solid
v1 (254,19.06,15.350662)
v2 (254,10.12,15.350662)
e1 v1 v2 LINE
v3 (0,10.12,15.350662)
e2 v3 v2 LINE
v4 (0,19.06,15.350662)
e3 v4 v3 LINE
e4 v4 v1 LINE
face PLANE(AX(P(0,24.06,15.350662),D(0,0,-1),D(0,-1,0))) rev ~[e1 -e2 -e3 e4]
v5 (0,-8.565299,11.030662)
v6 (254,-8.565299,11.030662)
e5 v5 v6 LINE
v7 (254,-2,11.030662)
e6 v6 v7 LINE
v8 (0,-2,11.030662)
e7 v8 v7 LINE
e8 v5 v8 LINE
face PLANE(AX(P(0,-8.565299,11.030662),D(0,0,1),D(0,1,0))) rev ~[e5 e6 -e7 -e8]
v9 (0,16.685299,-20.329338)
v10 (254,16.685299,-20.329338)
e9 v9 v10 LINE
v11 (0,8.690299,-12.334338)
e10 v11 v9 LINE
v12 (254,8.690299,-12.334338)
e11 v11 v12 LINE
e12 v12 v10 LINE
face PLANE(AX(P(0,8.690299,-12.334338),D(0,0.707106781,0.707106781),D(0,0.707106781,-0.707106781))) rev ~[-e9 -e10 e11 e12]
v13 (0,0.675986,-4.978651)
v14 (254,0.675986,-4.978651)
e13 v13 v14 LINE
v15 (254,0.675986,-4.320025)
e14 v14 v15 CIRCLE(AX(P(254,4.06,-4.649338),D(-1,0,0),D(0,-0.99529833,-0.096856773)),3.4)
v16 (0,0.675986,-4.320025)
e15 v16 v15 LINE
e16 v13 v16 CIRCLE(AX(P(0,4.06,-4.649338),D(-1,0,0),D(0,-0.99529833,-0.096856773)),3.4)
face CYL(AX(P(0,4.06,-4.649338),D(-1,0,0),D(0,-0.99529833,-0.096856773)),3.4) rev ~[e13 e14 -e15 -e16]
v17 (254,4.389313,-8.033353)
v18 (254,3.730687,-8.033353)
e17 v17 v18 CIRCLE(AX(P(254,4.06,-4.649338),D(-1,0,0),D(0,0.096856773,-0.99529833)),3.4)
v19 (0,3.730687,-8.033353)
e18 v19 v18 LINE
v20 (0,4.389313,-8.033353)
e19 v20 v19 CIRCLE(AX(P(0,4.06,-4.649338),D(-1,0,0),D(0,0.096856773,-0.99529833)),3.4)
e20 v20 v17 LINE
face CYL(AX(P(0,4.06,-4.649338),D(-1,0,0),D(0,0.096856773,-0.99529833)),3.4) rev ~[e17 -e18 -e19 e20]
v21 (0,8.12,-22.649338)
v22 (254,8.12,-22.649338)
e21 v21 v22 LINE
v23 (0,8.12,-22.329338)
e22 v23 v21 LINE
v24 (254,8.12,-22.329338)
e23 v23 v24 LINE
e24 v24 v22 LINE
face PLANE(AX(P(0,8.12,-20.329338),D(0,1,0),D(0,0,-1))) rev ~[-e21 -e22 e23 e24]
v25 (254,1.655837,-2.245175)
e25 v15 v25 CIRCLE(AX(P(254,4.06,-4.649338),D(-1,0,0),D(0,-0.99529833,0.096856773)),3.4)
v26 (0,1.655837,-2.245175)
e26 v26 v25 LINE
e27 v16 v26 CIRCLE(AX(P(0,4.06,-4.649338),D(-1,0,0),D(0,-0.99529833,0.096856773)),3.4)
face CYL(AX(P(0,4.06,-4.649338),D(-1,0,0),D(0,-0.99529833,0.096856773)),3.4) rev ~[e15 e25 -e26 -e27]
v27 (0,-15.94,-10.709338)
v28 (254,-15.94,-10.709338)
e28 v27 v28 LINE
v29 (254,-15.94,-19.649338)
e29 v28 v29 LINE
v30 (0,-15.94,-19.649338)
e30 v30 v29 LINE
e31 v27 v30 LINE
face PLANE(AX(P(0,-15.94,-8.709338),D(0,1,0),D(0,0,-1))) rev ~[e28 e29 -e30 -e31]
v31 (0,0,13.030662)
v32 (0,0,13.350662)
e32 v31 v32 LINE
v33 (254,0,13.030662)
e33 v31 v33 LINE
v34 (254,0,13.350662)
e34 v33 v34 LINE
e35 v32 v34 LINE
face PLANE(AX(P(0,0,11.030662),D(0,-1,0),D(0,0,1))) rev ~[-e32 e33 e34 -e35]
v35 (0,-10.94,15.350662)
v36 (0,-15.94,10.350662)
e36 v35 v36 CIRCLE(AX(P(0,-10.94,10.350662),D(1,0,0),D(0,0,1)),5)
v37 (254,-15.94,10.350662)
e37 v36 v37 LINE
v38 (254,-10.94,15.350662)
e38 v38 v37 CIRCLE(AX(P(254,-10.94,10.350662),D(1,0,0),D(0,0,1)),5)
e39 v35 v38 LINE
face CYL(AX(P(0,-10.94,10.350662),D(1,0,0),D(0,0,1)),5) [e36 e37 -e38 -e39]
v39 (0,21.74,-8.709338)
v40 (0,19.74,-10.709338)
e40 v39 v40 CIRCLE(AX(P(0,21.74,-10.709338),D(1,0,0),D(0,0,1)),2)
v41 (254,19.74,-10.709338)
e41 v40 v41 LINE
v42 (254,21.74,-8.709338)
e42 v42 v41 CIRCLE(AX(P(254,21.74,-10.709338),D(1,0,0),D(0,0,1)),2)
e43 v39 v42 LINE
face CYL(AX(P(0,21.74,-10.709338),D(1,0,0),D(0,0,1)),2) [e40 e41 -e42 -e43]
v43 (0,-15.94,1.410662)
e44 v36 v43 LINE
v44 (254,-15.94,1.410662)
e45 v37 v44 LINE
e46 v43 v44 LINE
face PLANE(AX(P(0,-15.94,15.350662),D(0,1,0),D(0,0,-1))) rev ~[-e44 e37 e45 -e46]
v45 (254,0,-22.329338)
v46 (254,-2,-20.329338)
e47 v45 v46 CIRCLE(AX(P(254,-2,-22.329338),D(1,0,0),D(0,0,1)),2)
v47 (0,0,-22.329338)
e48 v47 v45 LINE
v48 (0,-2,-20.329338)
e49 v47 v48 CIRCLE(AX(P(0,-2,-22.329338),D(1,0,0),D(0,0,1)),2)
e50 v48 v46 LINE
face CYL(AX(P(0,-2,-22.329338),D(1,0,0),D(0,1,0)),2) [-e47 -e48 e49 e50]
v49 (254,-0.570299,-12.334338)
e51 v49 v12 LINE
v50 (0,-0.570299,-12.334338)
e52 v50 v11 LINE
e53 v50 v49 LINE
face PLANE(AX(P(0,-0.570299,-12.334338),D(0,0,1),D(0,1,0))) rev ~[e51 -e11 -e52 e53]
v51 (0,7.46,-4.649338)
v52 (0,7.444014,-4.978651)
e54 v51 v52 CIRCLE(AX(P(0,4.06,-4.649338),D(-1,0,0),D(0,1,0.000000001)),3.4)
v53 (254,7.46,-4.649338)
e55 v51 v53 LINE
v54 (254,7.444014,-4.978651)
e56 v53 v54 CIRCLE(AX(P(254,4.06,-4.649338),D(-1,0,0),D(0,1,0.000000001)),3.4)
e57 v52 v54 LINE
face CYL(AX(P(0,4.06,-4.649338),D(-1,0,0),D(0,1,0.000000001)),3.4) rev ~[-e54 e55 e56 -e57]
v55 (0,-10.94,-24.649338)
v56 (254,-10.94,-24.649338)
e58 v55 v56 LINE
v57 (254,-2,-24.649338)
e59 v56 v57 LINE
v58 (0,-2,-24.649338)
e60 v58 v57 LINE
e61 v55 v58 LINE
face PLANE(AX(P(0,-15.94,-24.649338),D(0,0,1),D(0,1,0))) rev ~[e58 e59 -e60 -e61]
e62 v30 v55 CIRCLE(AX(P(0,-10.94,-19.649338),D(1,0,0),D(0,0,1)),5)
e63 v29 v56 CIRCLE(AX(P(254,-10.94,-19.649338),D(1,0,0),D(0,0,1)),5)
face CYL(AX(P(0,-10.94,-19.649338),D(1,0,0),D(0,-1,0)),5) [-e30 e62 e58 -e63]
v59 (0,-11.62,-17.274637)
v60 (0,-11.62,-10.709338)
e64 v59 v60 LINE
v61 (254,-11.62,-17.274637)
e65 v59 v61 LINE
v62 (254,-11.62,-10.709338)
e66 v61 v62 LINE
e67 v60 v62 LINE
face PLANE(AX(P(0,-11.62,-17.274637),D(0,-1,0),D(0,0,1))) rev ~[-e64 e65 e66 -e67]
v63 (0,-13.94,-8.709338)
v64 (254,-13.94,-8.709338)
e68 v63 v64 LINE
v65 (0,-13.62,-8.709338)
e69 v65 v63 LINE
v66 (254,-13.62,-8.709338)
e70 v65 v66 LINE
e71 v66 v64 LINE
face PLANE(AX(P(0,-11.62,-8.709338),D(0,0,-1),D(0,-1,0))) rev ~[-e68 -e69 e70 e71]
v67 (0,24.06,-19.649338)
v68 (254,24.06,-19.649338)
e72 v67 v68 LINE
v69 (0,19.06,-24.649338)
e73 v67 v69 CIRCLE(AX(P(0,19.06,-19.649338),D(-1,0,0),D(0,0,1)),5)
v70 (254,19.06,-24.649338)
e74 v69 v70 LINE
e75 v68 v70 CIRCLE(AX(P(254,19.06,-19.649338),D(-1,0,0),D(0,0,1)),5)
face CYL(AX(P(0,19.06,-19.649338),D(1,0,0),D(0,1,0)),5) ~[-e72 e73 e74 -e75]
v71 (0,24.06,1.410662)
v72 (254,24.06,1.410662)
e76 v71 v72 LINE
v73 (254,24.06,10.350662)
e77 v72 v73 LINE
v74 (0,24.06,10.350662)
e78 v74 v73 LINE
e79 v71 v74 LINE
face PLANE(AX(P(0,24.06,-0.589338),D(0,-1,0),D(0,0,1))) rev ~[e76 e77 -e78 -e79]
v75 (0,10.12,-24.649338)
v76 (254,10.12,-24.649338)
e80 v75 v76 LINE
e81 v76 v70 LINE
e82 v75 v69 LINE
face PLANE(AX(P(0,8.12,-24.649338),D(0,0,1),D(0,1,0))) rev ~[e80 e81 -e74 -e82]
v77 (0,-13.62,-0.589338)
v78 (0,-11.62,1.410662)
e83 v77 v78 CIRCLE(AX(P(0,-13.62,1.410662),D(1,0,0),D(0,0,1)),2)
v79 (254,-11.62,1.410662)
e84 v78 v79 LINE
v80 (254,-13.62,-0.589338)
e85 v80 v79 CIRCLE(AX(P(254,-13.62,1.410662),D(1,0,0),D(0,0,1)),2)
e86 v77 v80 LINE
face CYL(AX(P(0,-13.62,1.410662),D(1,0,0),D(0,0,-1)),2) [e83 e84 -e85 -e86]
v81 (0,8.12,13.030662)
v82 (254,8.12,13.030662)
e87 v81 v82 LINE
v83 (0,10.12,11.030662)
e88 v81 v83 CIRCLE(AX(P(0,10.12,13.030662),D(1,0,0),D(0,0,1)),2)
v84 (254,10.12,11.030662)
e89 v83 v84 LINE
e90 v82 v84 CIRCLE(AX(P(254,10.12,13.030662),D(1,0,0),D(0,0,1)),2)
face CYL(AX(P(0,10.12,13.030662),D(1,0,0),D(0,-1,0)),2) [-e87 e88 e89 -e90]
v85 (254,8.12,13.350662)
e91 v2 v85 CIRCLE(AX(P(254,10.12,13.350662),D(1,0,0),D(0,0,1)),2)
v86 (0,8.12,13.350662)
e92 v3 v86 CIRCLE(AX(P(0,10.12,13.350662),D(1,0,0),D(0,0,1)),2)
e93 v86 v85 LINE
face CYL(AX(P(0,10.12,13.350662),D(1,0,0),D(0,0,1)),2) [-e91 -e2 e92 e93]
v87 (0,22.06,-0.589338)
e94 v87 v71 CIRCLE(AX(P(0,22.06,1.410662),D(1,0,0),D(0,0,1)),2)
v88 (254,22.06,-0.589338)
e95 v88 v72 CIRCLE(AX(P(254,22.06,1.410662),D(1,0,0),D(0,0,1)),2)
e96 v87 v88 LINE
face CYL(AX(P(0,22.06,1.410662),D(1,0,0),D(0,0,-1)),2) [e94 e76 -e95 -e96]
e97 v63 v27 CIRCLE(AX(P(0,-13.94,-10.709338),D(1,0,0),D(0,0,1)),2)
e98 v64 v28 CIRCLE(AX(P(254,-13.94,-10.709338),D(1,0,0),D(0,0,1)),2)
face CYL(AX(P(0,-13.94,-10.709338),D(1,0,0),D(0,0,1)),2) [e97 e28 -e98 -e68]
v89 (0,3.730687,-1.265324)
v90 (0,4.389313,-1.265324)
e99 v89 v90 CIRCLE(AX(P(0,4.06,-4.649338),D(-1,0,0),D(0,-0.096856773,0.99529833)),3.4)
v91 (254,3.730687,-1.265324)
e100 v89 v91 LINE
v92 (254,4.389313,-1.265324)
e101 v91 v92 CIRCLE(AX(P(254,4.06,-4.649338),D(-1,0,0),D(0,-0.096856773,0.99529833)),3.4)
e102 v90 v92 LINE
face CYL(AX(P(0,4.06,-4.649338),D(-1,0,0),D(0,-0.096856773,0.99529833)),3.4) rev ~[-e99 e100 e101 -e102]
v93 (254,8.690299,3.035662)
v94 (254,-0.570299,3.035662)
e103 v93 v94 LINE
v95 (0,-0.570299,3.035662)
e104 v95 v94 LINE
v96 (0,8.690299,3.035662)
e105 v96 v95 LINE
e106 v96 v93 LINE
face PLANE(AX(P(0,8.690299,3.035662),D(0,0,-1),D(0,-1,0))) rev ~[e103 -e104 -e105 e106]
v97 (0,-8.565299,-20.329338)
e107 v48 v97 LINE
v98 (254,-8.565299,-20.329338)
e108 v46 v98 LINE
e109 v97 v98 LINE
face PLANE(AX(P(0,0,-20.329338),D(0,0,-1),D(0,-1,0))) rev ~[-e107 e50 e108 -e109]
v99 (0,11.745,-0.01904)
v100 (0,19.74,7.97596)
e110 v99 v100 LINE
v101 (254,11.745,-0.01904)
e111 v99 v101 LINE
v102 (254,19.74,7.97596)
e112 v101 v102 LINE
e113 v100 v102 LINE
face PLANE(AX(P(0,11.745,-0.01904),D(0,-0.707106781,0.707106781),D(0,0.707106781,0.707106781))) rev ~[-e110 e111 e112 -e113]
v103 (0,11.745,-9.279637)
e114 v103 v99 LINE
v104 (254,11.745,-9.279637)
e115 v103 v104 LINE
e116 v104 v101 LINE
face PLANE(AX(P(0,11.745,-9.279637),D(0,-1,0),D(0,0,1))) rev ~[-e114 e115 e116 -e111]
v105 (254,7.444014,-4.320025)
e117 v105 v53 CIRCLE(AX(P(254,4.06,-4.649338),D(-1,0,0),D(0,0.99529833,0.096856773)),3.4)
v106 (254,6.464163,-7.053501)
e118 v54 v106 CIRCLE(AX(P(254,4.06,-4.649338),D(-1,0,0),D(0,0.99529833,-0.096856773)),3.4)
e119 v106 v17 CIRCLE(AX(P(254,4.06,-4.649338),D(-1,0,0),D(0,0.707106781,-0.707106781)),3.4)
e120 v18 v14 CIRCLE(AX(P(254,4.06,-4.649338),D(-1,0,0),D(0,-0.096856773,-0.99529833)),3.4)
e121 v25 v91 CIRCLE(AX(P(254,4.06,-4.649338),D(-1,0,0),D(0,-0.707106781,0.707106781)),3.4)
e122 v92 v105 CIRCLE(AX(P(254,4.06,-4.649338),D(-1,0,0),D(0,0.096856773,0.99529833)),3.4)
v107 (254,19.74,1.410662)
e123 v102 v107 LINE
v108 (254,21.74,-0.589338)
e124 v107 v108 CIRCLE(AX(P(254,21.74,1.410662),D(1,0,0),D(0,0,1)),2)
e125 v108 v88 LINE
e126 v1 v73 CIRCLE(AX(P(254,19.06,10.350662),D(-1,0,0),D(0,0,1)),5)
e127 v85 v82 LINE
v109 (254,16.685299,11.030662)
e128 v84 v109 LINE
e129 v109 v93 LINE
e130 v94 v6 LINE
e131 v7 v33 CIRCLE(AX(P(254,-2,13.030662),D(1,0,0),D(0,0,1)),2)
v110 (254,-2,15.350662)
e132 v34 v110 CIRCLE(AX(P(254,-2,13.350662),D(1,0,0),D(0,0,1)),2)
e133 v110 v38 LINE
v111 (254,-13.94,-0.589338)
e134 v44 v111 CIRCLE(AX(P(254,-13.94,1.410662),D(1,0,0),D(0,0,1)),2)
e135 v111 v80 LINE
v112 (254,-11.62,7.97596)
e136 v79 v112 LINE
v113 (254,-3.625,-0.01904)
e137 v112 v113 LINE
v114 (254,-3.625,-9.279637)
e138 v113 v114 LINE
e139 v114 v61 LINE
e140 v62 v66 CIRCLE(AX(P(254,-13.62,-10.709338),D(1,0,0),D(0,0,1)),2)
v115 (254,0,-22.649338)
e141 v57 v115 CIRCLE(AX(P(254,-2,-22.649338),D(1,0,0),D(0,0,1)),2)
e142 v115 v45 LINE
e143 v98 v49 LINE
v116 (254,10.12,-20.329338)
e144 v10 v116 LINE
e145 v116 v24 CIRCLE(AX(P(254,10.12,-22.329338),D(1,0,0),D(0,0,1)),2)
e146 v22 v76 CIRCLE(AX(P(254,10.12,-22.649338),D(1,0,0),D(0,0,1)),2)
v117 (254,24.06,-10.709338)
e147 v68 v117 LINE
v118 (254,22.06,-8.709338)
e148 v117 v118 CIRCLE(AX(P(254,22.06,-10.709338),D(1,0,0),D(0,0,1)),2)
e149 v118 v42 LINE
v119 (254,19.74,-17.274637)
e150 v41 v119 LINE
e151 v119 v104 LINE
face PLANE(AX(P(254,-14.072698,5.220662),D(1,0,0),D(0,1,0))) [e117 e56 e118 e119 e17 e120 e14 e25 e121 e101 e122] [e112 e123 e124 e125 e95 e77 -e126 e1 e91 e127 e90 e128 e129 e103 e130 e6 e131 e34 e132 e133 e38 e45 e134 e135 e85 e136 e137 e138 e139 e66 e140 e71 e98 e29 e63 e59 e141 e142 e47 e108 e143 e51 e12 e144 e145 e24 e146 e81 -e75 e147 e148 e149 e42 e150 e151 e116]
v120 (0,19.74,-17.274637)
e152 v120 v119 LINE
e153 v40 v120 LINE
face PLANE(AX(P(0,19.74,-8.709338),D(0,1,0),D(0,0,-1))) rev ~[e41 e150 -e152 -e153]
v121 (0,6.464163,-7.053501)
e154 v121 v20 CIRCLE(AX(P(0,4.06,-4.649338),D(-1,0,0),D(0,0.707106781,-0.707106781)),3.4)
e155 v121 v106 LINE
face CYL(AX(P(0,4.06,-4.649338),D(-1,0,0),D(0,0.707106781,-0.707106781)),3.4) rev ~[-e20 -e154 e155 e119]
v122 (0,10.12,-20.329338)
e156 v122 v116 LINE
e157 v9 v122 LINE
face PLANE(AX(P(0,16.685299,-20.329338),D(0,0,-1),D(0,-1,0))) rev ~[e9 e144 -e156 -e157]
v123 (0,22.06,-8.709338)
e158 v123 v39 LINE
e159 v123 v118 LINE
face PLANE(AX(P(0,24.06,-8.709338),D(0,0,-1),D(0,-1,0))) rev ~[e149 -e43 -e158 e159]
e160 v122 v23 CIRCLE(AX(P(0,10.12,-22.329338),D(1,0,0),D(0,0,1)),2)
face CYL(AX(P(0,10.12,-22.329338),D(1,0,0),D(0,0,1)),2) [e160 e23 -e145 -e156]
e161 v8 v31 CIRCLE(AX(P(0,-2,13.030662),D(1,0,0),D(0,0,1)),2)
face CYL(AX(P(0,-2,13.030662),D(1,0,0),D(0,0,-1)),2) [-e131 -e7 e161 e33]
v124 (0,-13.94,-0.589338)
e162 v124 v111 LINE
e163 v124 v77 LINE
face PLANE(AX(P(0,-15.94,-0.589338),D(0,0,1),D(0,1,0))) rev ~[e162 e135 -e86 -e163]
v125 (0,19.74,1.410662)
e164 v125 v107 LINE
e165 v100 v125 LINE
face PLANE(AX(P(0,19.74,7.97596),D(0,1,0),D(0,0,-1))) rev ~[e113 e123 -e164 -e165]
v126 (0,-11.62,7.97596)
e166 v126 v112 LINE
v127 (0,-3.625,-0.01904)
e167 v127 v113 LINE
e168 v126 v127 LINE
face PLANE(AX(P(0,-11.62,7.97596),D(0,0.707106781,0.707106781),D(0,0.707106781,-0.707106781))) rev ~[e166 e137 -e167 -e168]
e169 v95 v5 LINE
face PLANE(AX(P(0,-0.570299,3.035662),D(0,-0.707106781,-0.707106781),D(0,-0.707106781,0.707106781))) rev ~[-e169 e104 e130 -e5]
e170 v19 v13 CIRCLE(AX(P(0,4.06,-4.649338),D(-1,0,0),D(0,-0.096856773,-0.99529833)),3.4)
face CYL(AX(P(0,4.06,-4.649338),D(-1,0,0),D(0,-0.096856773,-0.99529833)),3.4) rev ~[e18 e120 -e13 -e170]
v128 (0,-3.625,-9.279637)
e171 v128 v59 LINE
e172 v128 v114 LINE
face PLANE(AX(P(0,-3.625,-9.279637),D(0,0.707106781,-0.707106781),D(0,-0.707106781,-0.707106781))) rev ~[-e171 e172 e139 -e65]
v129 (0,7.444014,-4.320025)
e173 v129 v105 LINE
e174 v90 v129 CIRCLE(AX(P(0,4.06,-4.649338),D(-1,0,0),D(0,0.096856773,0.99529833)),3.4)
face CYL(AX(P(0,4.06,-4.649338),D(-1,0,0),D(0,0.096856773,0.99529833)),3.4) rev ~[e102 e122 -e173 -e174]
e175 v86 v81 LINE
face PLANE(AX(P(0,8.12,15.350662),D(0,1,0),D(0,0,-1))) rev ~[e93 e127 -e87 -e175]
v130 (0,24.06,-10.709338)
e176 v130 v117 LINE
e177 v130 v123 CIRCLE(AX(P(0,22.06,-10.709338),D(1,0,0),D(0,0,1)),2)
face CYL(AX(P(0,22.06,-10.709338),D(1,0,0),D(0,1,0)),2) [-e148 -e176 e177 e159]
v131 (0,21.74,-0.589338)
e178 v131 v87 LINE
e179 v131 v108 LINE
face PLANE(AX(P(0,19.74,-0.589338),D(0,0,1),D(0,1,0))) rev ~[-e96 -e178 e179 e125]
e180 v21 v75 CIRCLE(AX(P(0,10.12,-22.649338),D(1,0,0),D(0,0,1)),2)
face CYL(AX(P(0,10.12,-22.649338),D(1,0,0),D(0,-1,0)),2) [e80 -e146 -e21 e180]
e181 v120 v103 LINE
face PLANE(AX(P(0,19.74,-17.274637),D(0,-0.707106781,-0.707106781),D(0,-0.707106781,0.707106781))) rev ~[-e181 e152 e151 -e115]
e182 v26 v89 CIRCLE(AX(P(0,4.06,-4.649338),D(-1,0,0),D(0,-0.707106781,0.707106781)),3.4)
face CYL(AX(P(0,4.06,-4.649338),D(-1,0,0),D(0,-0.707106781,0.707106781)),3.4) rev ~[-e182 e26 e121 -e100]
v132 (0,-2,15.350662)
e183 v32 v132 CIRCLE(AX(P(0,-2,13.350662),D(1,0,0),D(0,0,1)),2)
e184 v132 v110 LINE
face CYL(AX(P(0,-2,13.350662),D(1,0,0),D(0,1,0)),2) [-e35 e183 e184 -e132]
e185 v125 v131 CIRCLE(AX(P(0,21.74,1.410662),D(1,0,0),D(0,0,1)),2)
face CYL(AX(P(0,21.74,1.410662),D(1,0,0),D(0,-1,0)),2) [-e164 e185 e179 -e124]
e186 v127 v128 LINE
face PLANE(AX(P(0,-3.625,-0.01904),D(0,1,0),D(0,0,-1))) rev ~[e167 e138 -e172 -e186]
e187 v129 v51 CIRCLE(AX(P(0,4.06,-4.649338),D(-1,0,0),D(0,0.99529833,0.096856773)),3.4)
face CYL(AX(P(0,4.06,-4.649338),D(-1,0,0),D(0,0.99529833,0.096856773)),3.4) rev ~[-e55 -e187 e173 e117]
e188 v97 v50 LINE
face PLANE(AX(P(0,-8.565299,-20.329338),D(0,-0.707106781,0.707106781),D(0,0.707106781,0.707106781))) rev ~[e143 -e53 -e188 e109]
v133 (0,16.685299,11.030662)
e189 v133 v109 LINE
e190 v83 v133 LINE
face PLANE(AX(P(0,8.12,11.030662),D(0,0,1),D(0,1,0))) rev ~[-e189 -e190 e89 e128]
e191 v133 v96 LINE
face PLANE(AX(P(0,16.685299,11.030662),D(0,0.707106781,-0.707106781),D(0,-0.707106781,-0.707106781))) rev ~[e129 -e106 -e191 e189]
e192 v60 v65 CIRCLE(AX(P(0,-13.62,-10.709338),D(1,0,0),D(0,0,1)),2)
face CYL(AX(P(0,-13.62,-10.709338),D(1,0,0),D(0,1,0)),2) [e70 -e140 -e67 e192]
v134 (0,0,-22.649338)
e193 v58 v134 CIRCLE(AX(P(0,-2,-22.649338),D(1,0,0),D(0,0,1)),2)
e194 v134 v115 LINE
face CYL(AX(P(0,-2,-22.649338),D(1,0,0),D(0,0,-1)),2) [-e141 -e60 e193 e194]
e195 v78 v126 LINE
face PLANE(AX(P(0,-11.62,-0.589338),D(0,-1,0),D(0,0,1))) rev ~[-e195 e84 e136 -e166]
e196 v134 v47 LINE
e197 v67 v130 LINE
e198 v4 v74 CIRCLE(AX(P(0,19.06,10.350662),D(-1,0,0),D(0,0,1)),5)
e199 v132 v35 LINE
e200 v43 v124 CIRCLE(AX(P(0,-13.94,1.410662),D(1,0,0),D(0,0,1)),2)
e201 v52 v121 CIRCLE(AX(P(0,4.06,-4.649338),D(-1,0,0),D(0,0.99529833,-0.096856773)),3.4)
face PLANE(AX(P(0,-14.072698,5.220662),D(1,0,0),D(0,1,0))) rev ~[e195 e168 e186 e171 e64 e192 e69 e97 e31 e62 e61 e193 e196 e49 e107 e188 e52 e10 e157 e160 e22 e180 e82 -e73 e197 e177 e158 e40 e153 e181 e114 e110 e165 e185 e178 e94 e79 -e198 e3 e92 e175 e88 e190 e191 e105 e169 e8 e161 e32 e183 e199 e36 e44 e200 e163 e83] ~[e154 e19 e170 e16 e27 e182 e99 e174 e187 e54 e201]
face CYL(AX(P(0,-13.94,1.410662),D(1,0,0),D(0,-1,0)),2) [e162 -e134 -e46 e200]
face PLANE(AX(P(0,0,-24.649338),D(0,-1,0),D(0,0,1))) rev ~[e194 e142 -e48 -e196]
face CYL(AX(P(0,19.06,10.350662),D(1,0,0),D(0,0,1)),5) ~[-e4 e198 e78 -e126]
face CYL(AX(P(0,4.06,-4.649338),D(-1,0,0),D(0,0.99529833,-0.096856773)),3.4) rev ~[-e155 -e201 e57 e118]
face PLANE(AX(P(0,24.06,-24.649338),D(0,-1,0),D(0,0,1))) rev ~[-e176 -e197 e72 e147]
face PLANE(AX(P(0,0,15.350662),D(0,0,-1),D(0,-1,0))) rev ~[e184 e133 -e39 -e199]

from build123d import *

# Parameters (mm, degrees)
F1_DEPTH = 254
F2_R     = 2
F3_R     = 5


with BuildPart() as f1:
    # F0 (on Right) → F1 (new body)
    with BuildSketch(Plane.YZ):
        Polygon((-11.62, 7.9759603159), (-15.94, 12.2959603159), (-15.94, -0.5893383893), (-11.62, -0.5893383893), align=None)
        Polygon((-11.62, 11.0306616107), (-15.94, 15.3506616107), (-15.94, 12.2959603159), (-11.62, 7.9759603159), (-8.7938307864, 5.1497911023), (-7.266480139, 6.6771417497), align=None)
        Polygon((-8.5652987053, 11.0306616107), (-11.62, 11.0306616107), (-7.266480139, 6.6771417497), (-5.7391294917, 8.2044923971), align=None)
        Polygon((0, 15.3506616107), (-12.8852987053, 15.3506616107), (-8.5652987053, 11.0306616107), (0, 11.0306616107), align=None)
        Polygon((-12.8852987053, 15.3506616107), (-15.94, 15.3506616107), (-11.62, 11.0306616107), (-8.5652987053, 11.0306616107), align=None)
        Polygon((-15.94, -21.5946370946), (-11.62, -17.2746370946), (-11.62, -8.7093383893), (-15.94, -8.7093383893), align=None)
        Polygon((-3.625, -12.3343383893), (-3.625, -9.2796370946), (-11.62, -17.2746370946), (-15.94, -21.5946370946), (-15.94, -24.6493383893), (-12.8852987053, -24.6493383893), (-8.5652987053, -20.3293383893), (-0.5702987053, -12.3343383893), align=None)
        Polygon((0, -20.3293383893), (-8.5652987053, -20.3293383893), (-12.8852987053, -24.6493383893), (0, -24.6493383893), align=None)
        Polygon((14.9650698751, 9.3104327805), (8.6902987053, 3.0356616107), (11.745, 3.0356616107), (11.745, -0.0190396841), (18.0197711699, 6.2557314858), (19.74, 7.9759603159), (16.6852987053, 11.0306616107), align=None)
        Polygon((21.0052987053, 15.3506616107), (16.6852987053, 11.0306616107), (19.74, 7.9759603159), (24.06, 12.2959603159), (24.06, 15.3506616107), align=None)
        Polygon((24.06, 12.2959603159), (19.74, 7.9759603159), (19.74, -0.5893383893), (24.06, -0.5893383893), align=None)
        Polygon((8.12, 11.0306616107), (16.6852987053, 11.0306616107), (21.0052987053, 15.3506616107), (8.12, 15.3506616107), align=None)
        with BuildLine():
            Line((11.745, -9.2796370946), (11.745, -0.0190396841))
            Line((11.745, -0.0190396841), (7.4440143218, -4.3200253623))
            ThreePointArc((7.4440143218, -4.3200253623), (7.456001229, -4.4844879937), (7.46, -4.6493383893))
            ThreePointArc((7.46, -4.6493383893), (7.456001229, -4.8141887849), (7.4440143218, -4.9786514164))
            Line((7.4440143218, -4.9786514164), (11.745, -9.2796370946))
        make_face()
        with BuildLine():
            Line((3.7306869729, -8.0333527111), (-0.5702987053, -12.3343383893))
            Line((-0.5702987053, -12.3343383893), (8.6902987053, -12.3343383893))
            Line((8.6902987053, -12.3343383893), (4.3893130271, -8.0333527111))
            ThreePointArc((4.3893130271, -8.0333527111), (4.06, -8.0493383893), (3.7306869729, -8.0333527111))
        make_face()
        with BuildLine():
            Line((0.6759856782, -4.3200253623), (-3.625, -0.0190396841))
            Line((-3.625, -0.0190396841), (-3.625, -9.2796370946))
            Line((-3.625, -9.2796370946), (0.6759856782, -4.9786514164))
            ThreePointArc((0.6759856782, -4.9786514164), (0.66, -4.6493383893), (0.6759856782, -4.3200253623))
        make_face()
        with BuildLine():
            Line((8.6902987053, 3.0356616107), (-0.5702987053, 3.0356616107))
            Line((-0.5702987053, 3.0356616107), (3.7306869729, -1.2653240675))
            ThreePointArc((3.7306869729, -1.2653240675), (4.06, -1.2493383893), (4.3893130271, -1.2653240675))
            Line((4.3893130271, -1.2653240675), (8.6902987053, 3.0356616107))
        make_face()
        Polygon((-5.7391294917, 8.2044923971), (-7.266480139, 6.6771417497), (-3.625, 3.0356616107), (-0.5702987053, 3.0356616107), align=None)
        Polygon((-3.625, 3.0356616107), (-7.266480139, 6.6771417497), (-8.7938307864, 5.1497911023), (-3.625, -0.0190396841), align=None)
        Polygon((11.745, -12.3343383893), (8.6902987053, -12.3343383893), (16.6852987053, -20.3293383893), (21.0052987053, -24.6493383893), (24.06, -24.6493383893), align=None)
        Polygon((19.74, -17.2746370946), (11.745, -9.2796370946), (11.745, -12.3343383893), (24.06, -24.6493383893), (24.06, -21.5946370946), align=None)
        Polygon((19.74, -8.7093383893), (19.74, -17.2746370946), (24.06, -21.5946370946), (24.06, -8.7093383893), align=None)
        Polygon((21.0052987053, -24.6493383893), (16.6852987053, -20.3293383893), (8.12, -20.3293383893), (8.12, -24.6493383893), align=None)
        with BuildLine():
            Line((11.745, 3.0356616107), (8.6902987053, 3.0356616107))
            Line((8.6902987053, 3.0356616107), (4.3893130271, -1.2653240675))
            ThreePointArc((4.3893130271, -1.2653240675), (6.464163056, -2.2451753333), (7.4440143218, -4.3200253623))
            Line((7.4440143218, -4.3200253623), (11.745, -0.0190396841))
            Line((11.745, -0.0190396841), (11.745, 3.0356616107))
        make_face()
        with BuildLine():
            Line((1.655836944, -2.2451753333), (-3.625, 3.0356616107))
            Line((-3.625, 3.0356616107), (-3.625, -0.0190396841))
            Line((-3.625, -0.0190396841), (0.6759856782, -4.3200253623))
            ThreePointArc((0.6759856782, -4.3200253623), (0.9855894874, -3.1974430763), (1.655836944, -2.2451753333))
        make_face()
        with BuildLine():
            Line((0.6759856782, -4.9786514164), (-3.625, -9.2796370946))
            Line((-3.625, -9.2796370946), (-3.625, -12.3343383893))
            Line((-3.625, -12.3343383893), (-0.5702987053, -12.3343383893))
            Line((-0.5702987053, -12.3343383893), (3.7306869729, -8.0333527111))
            ThreePointArc((3.7306869729, -8.0333527111), (1.655836944, -7.0535014454), (0.6759856782, -4.9786514164))
        make_face()
        with BuildLine():
            Line((11.745, -12.3343383893), (6.464163056, -7.0535014454))
            ThreePointArc((6.464163056, -7.0535014454), (5.511895313, -7.7237489019), (4.3893130271, -8.0333527111))
            Line((4.3893130271, -8.0333527111), (8.6902987053, -12.3343383893))
            Line((8.6902987053, -12.3343383893), (11.745, -12.3343383893))
        make_face()
        with BuildLine():
            ThreePointArc((7.4440143218, -4.9786514164), (7.1344105126, -6.1012337024), (6.464163056, -7.0535014454))
            Line((6.464163056, -7.0535014454), (11.745, -12.3343383893))
            Line((11.745, -12.3343383893), (11.745, -9.2796370946))
            Line((11.745, -9.2796370946), (7.4440143218, -4.9786514164))
        make_face()
        with BuildLine():
            Line((-0.5702987053, 3.0356616107), (-3.625, 3.0356616107))
            Line((-3.625, 3.0356616107), (1.655836944, -2.2451753333))
            ThreePointArc((1.655836944, -2.2451753333), (2.608104687, -1.5749278767), (3.7306869729, -1.2653240675))
            Line((3.7306869729, -1.2653240675), (-0.5702987053, 3.0356616107))
        make_face()
    extrude(amount=F1_DEPTH)

    # F2
    f2_edges = [f1.edges().sort_by_distance(p)[0] for p in [
        (127, 0, 11.030662),
        (127, -11.62, -0.589338),
        (127, -15.94, -0.589338),
        (127, 0, 15.350662),
        (127, 8.12, 11.030662),
        (127, 19.74, -0.589338),
        (127, 24.06, -0.589338),
        (127, 8.12, -24.649338),
        (127, 8.12, 15.350662),
        (127, -15.94, -8.709338),
        (127, -11.62, -8.709338),
        (127, 0, -24.649338),
        (127, 0, -20.329338),
        (127, 8.12, -20.329338),
        (127, 19.74, -8.709338),
        (127, 24.06, -8.709338),
    ]]
    fillet(f2_edges, radius=F2_R)

    # F3
    f3_edges = [f1.edges().sort_by_distance(p)[0] for p in [
        (127, -15.94, 15.350662),
        (127, 24.06, 15.350662),
        (127, 24.06, -24.649338),
        (127, -15.94, -24.649338),
    ]]
    fillet(f3_edges, radius=F3_R)


solid = f1.part
